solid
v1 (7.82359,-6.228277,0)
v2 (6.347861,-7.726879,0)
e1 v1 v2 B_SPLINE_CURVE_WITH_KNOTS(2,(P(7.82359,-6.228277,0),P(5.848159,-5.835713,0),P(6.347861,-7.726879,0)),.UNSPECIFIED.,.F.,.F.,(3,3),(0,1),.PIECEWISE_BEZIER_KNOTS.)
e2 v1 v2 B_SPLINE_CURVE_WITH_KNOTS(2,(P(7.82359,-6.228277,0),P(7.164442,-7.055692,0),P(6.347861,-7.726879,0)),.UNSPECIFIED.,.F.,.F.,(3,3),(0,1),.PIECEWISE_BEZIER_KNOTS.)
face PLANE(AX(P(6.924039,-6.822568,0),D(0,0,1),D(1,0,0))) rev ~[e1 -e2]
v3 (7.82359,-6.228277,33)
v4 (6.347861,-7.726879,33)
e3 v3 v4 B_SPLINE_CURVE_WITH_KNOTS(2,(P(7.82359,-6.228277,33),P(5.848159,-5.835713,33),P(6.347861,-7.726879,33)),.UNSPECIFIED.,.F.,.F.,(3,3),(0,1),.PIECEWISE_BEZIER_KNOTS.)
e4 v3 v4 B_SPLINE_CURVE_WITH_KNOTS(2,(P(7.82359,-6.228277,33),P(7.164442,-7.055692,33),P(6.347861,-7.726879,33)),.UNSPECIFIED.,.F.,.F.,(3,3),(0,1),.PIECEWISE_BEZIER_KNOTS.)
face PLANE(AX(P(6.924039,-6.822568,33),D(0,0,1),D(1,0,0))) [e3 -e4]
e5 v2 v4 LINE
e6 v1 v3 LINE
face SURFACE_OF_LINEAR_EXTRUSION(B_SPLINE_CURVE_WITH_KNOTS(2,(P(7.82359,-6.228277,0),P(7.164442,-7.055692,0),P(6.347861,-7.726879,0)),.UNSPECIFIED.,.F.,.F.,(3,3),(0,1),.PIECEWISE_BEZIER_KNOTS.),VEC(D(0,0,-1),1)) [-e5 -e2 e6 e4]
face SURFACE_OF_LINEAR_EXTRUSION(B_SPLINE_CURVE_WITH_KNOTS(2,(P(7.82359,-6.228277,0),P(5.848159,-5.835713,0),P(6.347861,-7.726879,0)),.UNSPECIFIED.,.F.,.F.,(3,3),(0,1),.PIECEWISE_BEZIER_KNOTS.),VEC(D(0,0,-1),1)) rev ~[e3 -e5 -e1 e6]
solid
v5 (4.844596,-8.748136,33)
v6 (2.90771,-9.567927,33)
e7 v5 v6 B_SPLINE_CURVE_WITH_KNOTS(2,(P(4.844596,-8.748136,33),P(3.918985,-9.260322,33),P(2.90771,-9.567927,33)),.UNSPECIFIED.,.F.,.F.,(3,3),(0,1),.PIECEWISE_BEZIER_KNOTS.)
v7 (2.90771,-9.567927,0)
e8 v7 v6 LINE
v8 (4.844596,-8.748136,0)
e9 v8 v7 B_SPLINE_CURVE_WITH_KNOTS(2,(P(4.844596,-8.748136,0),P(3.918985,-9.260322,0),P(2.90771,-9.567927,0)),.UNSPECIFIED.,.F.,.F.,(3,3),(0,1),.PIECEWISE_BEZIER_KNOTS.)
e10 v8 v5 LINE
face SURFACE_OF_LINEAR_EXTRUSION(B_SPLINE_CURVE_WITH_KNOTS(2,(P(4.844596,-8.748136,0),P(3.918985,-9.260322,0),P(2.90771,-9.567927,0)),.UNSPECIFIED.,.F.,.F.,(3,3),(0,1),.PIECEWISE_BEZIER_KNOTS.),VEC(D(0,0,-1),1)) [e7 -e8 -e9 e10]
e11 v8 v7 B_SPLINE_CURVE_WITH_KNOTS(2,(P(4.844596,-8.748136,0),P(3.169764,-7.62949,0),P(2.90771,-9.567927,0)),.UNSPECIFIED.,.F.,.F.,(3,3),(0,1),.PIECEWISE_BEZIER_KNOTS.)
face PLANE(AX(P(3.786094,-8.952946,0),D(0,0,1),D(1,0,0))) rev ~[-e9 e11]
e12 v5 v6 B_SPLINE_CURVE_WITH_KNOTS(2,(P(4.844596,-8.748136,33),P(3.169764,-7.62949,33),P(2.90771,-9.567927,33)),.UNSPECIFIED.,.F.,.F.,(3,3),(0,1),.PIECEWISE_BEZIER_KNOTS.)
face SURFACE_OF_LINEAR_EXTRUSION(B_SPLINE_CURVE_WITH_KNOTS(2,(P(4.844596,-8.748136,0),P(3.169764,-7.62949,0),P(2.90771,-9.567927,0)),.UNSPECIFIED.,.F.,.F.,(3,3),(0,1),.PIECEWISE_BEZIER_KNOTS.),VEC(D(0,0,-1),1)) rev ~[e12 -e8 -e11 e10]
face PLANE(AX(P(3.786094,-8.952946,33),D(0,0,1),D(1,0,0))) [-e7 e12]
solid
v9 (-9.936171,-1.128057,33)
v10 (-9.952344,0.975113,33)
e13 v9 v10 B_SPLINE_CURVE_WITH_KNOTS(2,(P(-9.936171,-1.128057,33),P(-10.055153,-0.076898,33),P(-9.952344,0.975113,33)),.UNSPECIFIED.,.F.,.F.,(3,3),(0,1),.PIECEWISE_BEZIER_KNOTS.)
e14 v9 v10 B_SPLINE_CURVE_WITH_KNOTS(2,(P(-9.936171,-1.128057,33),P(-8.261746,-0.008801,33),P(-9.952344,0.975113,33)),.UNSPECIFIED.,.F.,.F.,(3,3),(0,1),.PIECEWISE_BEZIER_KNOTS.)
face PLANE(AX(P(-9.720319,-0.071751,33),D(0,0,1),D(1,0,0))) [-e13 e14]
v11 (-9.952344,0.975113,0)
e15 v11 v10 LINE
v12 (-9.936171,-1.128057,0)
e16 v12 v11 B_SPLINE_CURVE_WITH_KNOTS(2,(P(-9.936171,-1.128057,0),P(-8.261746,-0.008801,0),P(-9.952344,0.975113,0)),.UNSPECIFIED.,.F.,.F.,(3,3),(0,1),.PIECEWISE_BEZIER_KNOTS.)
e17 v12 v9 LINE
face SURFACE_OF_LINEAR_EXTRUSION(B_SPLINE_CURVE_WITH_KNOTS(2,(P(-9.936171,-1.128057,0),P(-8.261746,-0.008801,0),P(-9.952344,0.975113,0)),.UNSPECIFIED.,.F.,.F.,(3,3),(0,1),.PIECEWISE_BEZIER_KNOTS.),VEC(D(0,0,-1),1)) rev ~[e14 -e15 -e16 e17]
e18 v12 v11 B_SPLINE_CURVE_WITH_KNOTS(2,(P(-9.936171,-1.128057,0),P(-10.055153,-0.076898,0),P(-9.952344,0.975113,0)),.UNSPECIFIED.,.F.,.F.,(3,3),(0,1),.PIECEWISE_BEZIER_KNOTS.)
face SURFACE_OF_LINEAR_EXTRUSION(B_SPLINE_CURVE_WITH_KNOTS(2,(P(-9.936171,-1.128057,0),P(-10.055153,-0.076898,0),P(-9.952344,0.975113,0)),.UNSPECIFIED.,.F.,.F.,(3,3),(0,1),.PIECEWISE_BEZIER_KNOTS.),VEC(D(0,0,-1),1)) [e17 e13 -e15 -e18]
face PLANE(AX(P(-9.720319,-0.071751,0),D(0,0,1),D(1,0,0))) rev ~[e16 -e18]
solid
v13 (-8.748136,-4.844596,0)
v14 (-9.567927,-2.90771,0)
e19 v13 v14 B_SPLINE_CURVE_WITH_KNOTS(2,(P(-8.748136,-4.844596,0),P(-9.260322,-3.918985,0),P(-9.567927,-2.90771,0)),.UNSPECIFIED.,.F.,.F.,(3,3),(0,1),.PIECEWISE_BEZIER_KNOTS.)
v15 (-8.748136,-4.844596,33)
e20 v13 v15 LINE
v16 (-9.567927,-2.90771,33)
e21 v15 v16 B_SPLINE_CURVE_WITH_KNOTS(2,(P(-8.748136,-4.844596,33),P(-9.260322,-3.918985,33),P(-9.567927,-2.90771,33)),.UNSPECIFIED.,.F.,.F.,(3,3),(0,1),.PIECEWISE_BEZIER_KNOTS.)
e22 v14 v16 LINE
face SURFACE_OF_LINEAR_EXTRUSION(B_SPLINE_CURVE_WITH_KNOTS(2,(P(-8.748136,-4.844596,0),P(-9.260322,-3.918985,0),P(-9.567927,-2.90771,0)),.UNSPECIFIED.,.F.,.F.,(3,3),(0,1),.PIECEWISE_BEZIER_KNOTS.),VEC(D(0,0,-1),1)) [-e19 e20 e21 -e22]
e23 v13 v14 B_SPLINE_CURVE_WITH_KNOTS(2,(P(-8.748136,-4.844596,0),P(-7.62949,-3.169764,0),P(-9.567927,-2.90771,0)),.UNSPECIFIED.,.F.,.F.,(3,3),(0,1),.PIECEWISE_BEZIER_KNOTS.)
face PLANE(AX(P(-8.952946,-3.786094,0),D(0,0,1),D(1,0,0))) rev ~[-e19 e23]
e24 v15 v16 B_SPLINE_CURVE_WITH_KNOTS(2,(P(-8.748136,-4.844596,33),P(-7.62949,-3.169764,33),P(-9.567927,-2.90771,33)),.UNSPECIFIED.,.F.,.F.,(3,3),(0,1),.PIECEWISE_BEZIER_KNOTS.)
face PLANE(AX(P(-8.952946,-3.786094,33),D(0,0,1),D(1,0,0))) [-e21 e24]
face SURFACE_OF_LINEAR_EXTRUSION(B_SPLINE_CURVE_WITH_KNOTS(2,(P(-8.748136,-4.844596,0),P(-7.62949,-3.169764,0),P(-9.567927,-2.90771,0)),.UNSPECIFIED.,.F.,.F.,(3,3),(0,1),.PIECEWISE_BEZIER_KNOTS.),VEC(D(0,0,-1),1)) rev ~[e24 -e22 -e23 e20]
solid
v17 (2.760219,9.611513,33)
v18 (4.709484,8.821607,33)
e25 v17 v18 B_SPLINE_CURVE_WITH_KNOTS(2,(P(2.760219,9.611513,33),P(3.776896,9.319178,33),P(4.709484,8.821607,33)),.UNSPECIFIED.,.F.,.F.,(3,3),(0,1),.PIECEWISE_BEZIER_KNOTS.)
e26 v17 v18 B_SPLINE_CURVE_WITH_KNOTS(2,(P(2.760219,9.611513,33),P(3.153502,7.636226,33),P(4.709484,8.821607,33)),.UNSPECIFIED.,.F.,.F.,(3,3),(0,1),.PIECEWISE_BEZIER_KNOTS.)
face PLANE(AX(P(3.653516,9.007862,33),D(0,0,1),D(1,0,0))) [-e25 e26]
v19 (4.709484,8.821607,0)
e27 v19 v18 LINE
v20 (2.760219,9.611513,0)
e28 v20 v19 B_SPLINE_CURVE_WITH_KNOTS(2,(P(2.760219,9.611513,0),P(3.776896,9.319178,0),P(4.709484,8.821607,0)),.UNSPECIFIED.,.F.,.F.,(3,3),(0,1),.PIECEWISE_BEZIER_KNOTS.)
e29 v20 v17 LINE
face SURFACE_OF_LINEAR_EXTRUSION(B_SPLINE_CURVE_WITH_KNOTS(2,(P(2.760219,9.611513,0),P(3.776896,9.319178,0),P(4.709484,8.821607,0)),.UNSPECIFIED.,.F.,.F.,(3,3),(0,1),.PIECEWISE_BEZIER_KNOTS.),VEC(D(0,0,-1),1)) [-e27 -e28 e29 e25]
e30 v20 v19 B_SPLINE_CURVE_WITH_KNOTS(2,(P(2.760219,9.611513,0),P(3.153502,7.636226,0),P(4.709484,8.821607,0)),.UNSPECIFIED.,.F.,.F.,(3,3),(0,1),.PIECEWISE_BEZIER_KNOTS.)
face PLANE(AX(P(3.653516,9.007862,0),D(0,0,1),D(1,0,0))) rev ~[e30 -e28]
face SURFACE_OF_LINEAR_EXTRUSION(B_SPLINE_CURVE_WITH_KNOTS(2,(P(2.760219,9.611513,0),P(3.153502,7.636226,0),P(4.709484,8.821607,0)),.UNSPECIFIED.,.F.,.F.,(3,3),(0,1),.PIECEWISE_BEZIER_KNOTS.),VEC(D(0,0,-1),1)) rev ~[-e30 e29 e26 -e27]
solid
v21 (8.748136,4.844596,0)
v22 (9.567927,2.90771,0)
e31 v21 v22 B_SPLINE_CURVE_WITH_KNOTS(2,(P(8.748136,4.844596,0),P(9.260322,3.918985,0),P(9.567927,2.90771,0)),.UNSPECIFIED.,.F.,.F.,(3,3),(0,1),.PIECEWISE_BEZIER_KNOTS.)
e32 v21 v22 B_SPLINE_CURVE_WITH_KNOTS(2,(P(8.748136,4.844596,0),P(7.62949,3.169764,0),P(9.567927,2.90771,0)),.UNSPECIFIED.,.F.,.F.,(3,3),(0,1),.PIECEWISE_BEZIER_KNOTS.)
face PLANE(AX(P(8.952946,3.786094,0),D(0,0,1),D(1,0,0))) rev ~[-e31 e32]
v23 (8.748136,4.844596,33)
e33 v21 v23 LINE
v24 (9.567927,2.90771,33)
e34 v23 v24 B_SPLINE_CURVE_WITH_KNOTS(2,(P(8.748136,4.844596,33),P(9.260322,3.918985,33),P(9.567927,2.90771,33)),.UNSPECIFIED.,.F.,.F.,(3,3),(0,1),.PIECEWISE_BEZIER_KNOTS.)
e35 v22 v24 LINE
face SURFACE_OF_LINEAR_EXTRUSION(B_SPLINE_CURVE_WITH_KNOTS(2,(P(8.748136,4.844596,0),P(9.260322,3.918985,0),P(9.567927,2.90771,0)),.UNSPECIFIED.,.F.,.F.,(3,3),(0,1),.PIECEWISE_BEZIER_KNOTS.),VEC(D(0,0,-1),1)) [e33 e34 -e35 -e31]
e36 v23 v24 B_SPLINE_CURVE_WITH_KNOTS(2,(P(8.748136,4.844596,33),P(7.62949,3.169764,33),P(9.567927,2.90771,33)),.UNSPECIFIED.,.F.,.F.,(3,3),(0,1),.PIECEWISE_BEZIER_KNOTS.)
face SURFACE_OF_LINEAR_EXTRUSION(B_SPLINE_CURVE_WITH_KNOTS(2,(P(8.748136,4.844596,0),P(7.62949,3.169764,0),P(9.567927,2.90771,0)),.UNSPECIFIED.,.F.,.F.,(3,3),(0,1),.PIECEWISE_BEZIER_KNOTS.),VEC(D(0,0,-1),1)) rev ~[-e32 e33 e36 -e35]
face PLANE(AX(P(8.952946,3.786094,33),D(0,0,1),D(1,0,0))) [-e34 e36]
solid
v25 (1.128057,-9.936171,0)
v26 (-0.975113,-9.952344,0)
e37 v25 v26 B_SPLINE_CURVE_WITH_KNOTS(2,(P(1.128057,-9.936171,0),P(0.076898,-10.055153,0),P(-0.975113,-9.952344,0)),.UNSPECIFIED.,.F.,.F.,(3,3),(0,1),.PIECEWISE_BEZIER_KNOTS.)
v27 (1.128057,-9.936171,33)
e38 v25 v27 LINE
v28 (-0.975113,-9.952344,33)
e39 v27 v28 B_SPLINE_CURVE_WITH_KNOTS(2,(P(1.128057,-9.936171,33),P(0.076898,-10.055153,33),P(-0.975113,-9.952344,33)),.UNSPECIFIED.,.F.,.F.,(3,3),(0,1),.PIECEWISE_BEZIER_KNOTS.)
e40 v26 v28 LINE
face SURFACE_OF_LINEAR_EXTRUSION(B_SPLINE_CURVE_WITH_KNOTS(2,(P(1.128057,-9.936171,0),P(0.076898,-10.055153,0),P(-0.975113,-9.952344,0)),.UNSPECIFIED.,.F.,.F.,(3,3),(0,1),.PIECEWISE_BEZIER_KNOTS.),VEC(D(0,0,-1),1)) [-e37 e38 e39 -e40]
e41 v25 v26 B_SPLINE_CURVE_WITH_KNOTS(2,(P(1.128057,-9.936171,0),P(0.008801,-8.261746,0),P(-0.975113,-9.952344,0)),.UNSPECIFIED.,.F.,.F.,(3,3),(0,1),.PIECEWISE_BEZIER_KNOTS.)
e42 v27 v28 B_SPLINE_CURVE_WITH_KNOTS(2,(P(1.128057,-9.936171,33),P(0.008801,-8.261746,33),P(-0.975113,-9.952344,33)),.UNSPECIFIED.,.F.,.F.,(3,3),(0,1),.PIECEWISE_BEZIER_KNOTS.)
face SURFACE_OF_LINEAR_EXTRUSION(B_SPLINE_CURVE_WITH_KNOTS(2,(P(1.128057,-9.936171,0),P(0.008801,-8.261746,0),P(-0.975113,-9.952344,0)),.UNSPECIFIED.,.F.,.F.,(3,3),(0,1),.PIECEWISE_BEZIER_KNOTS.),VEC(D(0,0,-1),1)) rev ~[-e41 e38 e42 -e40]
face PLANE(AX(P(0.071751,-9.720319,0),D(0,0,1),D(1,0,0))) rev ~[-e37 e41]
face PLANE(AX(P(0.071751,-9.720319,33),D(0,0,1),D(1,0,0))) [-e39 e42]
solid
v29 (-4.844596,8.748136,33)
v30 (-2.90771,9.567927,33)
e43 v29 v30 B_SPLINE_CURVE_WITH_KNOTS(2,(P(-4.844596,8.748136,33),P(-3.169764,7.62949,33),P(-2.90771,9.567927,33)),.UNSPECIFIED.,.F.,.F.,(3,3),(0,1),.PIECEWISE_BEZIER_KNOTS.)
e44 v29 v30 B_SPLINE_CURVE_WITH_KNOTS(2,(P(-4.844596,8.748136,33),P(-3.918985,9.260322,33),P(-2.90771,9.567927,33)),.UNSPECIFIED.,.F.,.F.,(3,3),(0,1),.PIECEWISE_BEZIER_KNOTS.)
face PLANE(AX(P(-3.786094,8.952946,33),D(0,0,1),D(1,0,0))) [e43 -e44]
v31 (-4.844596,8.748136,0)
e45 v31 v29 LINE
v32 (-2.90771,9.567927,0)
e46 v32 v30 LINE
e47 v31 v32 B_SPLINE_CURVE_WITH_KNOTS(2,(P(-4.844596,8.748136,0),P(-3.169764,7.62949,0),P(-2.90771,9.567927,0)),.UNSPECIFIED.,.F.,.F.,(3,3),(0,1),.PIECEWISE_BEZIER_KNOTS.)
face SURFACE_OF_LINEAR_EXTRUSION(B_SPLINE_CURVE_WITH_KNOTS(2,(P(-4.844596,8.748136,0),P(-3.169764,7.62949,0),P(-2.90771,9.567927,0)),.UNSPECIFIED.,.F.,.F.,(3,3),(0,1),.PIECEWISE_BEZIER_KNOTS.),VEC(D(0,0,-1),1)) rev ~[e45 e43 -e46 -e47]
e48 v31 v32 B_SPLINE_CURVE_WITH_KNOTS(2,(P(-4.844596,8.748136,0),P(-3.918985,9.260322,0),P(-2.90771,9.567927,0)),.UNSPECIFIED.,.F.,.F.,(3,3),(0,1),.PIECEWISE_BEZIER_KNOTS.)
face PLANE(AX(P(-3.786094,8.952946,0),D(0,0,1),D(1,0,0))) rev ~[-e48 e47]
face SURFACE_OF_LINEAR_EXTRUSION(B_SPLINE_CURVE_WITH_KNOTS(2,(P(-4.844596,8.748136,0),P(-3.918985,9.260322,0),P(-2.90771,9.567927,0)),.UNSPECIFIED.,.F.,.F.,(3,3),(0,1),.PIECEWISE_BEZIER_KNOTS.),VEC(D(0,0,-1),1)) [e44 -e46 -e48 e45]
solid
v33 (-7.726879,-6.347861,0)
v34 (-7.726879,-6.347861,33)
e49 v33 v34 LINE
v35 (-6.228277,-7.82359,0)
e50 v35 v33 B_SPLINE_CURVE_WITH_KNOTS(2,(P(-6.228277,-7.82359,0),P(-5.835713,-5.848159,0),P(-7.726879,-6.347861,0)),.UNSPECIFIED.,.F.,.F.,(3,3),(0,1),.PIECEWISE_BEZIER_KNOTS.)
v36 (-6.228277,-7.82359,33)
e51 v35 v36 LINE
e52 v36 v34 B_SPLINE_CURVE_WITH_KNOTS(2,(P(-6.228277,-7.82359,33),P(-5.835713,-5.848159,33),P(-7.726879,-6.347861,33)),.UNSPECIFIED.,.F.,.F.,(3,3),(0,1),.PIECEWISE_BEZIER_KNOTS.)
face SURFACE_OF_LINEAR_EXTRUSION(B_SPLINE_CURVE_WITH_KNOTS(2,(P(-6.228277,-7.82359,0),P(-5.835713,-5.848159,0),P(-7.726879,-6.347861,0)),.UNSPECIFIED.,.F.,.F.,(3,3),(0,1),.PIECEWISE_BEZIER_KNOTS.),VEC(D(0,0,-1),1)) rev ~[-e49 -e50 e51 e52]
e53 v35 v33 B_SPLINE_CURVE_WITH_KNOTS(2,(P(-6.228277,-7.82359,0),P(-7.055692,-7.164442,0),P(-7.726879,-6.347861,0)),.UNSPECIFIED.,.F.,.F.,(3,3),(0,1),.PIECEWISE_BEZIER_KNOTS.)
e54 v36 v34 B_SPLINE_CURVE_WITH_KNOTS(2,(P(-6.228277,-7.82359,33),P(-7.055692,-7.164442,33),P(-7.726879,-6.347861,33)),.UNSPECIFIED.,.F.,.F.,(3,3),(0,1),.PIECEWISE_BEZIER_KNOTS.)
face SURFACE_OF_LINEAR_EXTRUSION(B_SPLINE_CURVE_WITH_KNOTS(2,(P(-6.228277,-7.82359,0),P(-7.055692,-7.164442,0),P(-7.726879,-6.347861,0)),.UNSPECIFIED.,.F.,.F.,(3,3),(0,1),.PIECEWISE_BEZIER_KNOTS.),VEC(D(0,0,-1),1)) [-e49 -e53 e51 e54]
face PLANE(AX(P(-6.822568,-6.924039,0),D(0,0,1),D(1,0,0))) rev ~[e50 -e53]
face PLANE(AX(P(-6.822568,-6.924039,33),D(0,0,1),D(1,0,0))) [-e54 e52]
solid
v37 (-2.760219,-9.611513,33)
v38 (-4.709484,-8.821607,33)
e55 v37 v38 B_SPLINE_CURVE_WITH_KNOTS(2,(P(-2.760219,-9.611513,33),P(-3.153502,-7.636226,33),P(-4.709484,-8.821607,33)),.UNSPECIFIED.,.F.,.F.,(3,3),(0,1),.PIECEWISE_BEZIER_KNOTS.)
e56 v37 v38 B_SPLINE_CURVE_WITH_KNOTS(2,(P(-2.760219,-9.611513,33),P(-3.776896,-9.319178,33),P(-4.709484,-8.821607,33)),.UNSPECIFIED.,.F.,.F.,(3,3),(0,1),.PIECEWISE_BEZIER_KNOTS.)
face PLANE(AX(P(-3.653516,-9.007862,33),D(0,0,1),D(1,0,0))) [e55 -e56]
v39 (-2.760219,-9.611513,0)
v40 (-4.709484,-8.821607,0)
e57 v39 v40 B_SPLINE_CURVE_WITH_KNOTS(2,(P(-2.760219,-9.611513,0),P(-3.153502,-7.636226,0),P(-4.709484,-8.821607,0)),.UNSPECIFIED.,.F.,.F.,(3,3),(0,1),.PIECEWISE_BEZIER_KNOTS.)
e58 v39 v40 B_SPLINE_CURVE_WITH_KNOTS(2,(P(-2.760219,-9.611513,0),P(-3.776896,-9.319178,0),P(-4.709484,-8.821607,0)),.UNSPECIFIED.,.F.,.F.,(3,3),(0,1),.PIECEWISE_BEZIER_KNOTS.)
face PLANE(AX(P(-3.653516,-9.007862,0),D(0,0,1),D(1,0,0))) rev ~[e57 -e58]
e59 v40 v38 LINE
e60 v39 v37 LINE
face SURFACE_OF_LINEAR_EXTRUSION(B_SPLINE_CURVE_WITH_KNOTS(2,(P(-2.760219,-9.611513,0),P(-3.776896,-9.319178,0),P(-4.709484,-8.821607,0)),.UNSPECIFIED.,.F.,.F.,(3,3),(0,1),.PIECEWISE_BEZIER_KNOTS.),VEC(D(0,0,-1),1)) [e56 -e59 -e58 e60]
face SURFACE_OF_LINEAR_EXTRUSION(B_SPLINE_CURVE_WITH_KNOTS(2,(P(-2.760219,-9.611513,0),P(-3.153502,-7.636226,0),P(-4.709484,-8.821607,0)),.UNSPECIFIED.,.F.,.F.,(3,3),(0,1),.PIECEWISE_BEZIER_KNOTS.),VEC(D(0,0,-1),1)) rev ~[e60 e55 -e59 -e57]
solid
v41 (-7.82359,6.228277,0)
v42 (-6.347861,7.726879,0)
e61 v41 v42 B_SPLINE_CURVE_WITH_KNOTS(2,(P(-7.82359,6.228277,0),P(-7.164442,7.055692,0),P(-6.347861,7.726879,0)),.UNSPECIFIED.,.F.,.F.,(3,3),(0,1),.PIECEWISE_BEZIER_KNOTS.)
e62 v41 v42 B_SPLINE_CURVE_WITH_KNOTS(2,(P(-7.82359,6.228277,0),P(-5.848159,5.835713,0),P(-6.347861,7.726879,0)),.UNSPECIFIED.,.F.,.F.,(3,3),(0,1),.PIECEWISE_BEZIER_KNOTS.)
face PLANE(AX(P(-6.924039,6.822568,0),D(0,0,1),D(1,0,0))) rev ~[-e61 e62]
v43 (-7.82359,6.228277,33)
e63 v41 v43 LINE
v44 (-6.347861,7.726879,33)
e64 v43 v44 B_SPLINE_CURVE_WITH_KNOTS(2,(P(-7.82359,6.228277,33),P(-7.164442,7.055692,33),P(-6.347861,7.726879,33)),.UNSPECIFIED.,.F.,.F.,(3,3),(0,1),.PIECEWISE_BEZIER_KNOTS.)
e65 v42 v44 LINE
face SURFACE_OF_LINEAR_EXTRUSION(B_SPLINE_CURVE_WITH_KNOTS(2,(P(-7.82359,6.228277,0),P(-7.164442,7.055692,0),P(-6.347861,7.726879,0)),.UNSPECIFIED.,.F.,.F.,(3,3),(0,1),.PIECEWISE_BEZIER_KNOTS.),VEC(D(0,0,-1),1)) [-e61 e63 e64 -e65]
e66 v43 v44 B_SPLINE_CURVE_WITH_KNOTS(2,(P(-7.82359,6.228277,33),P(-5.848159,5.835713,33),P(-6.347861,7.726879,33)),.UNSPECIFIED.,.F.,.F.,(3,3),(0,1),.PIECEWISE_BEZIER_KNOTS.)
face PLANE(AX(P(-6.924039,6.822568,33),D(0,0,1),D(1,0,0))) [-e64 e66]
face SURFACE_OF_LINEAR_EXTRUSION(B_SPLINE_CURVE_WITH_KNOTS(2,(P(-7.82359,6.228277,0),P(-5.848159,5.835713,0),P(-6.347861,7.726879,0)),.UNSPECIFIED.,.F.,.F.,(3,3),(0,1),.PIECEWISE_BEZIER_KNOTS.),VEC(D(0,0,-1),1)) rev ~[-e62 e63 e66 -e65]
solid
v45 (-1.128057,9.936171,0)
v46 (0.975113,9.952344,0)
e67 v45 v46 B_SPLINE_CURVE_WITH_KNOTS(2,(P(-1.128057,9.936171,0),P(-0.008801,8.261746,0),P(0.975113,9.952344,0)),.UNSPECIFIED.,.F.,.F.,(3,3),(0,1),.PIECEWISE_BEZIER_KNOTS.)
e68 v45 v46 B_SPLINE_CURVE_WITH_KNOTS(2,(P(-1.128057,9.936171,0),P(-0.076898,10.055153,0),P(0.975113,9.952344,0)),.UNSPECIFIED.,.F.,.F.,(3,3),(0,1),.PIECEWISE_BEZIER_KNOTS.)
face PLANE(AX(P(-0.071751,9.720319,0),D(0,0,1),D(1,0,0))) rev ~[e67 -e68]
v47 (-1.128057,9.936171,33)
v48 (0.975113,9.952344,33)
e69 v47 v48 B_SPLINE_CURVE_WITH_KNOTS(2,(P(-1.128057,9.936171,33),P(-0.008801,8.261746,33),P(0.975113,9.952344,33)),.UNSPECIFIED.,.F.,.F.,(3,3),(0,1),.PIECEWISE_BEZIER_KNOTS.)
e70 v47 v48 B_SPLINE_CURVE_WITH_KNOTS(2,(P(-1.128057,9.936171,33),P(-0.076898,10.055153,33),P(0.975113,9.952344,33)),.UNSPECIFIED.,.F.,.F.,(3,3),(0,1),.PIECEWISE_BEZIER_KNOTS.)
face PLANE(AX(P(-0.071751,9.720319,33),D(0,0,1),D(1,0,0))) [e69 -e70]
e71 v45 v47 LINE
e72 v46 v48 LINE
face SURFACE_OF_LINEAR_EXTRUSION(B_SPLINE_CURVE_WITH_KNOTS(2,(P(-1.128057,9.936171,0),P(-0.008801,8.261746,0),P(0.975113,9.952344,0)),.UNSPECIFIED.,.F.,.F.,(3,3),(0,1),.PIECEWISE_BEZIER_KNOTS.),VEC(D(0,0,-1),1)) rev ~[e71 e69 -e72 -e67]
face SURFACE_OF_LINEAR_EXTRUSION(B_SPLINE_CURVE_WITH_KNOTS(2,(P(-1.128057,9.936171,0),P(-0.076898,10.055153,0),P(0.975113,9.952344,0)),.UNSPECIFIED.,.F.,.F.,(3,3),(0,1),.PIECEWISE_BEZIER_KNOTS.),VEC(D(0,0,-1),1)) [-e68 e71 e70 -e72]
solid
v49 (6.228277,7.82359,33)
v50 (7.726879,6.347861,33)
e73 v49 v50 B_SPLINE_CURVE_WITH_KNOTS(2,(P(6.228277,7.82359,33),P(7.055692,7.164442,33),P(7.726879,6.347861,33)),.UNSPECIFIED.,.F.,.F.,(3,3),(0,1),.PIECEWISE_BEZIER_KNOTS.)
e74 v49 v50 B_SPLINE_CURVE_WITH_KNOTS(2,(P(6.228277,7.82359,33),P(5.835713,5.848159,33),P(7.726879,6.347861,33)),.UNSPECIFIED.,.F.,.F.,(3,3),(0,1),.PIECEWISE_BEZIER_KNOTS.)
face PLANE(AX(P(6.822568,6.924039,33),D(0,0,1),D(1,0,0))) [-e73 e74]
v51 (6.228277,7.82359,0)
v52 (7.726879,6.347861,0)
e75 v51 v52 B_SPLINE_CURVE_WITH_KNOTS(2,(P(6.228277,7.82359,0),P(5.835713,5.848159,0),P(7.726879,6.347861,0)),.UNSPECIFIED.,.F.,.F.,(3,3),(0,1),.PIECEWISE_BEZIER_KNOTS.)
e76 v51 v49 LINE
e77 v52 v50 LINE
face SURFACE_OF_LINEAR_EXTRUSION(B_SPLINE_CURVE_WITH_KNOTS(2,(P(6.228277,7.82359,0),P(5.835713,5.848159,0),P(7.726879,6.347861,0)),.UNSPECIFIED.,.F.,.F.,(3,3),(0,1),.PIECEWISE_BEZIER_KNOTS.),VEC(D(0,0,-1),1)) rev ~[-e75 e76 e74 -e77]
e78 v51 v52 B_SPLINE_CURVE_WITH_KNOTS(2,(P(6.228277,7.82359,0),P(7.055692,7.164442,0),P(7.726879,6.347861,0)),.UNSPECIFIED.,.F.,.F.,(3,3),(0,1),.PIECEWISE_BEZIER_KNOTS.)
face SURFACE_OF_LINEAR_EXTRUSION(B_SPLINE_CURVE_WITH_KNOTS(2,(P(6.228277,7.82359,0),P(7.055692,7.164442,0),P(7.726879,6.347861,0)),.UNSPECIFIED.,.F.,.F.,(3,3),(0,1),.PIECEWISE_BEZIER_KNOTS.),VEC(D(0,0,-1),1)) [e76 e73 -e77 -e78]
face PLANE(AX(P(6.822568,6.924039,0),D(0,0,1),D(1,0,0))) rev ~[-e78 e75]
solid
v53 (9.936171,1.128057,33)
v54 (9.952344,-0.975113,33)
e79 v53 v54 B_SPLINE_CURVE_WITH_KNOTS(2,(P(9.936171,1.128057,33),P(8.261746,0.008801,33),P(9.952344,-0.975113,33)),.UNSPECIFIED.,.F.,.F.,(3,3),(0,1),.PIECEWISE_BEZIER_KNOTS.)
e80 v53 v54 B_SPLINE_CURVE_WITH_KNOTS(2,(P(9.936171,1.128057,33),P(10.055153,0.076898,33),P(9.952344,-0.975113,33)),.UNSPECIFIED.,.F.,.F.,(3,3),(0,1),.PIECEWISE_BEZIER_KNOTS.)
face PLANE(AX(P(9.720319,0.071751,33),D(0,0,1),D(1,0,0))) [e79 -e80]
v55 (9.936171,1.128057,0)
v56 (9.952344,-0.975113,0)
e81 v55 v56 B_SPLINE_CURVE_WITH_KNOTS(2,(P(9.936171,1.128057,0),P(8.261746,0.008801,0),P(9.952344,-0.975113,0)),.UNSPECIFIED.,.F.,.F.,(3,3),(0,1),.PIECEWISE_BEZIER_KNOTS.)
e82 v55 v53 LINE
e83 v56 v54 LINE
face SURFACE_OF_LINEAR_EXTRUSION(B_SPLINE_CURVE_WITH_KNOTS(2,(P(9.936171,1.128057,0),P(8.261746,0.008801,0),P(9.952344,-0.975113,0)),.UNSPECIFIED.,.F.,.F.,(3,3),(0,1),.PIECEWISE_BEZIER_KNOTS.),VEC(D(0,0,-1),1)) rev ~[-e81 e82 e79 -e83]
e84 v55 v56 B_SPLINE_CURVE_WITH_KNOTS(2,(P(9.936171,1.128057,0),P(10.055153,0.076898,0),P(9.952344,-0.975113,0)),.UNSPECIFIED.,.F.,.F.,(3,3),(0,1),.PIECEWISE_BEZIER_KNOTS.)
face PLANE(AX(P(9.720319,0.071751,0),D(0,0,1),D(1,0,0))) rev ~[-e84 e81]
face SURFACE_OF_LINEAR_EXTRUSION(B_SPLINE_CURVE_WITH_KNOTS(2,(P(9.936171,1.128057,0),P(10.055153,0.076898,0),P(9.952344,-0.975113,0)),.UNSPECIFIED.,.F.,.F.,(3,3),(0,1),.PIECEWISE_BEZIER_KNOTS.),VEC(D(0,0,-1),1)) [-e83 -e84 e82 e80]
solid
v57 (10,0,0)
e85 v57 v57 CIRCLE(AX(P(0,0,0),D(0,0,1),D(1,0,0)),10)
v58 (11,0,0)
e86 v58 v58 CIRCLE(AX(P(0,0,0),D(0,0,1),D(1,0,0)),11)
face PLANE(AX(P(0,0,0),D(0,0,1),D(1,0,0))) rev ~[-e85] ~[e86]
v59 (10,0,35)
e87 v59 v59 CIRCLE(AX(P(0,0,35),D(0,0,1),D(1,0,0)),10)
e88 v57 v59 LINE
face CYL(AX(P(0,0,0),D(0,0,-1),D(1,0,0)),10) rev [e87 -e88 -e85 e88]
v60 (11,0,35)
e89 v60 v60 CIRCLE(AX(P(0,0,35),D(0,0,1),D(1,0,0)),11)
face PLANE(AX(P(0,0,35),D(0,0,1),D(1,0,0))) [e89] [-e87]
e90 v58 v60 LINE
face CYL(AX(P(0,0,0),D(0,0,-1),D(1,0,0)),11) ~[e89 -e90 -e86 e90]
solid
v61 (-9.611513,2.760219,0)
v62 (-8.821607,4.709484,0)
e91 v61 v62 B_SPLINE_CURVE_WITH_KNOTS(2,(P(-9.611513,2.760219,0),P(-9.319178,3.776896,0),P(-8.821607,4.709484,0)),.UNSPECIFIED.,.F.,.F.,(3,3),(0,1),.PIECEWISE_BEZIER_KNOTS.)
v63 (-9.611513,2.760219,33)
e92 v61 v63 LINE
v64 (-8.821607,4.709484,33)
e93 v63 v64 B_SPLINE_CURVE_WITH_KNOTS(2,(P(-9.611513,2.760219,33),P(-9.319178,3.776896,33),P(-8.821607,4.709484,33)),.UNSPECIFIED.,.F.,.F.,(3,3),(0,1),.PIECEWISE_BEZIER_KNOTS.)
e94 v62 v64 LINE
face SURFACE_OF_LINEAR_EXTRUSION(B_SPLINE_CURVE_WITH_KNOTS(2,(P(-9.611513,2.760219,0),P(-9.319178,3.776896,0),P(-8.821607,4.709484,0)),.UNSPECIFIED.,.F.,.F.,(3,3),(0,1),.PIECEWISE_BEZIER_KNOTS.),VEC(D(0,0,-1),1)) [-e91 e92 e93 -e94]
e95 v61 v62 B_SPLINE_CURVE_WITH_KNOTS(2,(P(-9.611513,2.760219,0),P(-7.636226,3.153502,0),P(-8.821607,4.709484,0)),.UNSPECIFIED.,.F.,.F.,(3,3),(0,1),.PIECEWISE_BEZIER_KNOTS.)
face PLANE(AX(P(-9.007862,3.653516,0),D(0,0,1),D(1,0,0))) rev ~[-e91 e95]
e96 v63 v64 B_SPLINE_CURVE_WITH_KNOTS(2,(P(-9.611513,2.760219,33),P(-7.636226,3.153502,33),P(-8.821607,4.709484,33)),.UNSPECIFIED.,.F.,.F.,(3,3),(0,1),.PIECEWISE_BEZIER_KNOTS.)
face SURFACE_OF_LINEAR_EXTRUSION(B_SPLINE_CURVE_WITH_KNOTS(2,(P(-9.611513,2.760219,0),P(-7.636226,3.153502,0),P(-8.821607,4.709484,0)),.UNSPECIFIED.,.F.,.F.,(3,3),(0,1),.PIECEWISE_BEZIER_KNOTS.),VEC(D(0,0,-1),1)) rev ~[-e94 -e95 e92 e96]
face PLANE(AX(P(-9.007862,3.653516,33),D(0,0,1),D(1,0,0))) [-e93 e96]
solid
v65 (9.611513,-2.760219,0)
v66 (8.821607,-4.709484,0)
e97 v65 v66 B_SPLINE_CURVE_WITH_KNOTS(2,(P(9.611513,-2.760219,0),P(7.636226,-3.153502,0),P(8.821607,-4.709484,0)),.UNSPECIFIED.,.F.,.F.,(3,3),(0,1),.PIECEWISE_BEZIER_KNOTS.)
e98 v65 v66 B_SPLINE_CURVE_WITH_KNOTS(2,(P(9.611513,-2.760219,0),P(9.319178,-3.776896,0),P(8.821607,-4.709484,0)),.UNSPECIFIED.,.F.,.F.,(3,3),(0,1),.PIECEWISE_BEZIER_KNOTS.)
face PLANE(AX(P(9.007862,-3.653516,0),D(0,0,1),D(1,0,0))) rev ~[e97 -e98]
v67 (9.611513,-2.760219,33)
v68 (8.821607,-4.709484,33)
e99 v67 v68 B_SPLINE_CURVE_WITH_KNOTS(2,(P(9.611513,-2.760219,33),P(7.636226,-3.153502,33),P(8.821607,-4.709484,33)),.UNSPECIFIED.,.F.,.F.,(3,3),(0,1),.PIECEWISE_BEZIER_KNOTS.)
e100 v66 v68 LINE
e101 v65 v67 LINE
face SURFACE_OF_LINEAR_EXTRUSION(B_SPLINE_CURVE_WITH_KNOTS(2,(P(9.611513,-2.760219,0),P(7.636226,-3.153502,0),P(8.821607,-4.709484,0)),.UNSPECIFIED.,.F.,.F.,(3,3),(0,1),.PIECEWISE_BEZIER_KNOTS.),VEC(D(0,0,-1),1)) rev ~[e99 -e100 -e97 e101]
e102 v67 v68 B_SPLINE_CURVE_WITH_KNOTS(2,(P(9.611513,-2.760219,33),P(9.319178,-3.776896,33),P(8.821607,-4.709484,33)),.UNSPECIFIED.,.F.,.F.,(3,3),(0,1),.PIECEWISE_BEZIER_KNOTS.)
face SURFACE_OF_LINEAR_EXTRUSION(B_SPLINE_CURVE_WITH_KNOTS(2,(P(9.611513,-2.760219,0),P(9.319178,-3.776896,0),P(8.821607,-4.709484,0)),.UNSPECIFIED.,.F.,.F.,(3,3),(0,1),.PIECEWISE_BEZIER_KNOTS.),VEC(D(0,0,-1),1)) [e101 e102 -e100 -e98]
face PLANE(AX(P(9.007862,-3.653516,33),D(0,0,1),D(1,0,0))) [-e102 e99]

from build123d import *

# Parameters (mm, degrees)
SKETCH1_R              = 11
SKETCH1_R_2            = 10
BOSS_EXTRUDE1_DEPTH    = 35
BOSS_EXTRUDE2_DEPTH    = 33
BOSS_EXTRUDE2_2_DEPTH  = 33
BOSS_EXTRUDE2_3_DEPTH  = 33
BOSS_EXTRUDE2_4_DEPTH  = 33
BOSS_EXTRUDE2_5_DEPTH  = 33
BOSS_EXTRUDE2_6_DEPTH  = 33
BOSS_EXTRUDE2_7_DEPTH  = 33
BOSS_EXTRUDE2_8_DEPTH  = 33
BOSS_EXTRUDE2_9_DEPTH  = 33
BOSS_EXTRUDE2_10_DEPTH = 33
BOSS_EXTRUDE2_11_DEPTH = 33
BOSS_EXTRUDE2_12_DEPTH = 33
BOSS_EXTRUDE2_13_DEPTH = 33
BOSS_EXTRUDE2_14_DEPTH = 33
BOSS_EXTRUDE2_15_DEPTH = 33
BOSS_EXTRUDE2_16_DEPTH = 33


with BuildPart() as part:
    # Sketch1 → Boss-Extrude1 (new body)
    with BuildSketch(Plane.XY):
        Circle(SKETCH1_R)
        Circle(SKETCH1_R_2, mode=Mode.SUBTRACT)
    extrude(amount=BOSS_EXTRUDE1_DEPTH)


with BuildPart() as body_2:
    # Sketch2 → Boss-Extrude2 (new body)
    with BuildSketch(Plane(origin=(0, 0, 0), x_dir=(-1, 0, 0), z_dir=(0, 0, -1))):
        with BuildLine():
            add(Edge.make_bspline(
                [(-1.128056704, -9.936170695), (-0.00880064, -8.26174576), (0.975113037, -9.952344174)],
                knots=[0, 0, 0, 1, 1, 1], degree=2))
            add(Edge.make_bspline(
                [(-1.128056704, -9.936170695), (-0.076898223, -10.055152863), (0.975113037, -9.952344174)],
                knots=[0, 0, 0, 1, 1, 1], degree=2))
        make_face()
    extrude(amount=-BOSS_EXTRUDE2_DEPTH)


with BuildPart() as body_3:
    # Sketch2 → Boss-Extrude2 2 (new body)
    with BuildSketch(Plane(origin=(0, 0, 0), x_dir=(-1, 0, 0), z_dir=(0, 0, -1))):
        with BuildLine():
            add(Edge.make_bspline(
                [(-4.844596406, -8.748136125), (-3.169763956, -7.629489952), (-2.907710252, -9.567926687)],
                knots=[0, 0, 0, 1, 1, 1], degree=2))
            add(Edge.make_bspline(
                [(-4.844596406, -8.748136125), (-3.918985104, -9.26032225), (-2.907710252, -9.567926687)],
                knots=[0, 0, 0, 1, 1, 1], degree=2))
        make_face()
    extrude(amount=-BOSS_EXTRUDE2_2_DEPTH)


with BuildPart() as body_4:
    # Sketch2 → Boss-Extrude2 3 (new body)
    with BuildSketch(Plane(origin=(0, 0, 0), x_dir=(-1, 0, 0), z_dir=(0, 0, -1))):
        with BuildLine():
            add(Edge.make_bspline(
                [(-7.823590222, -6.228277132), (-5.848159444, -5.835713459), (-6.347861013, -7.726879095)],
                knots=[0, 0, 0, 1, 1, 1], degree=2))
            add(Edge.make_bspline(
                [(-7.823590222, -6.228277132), (-7.16444203, -7.05569152), (-6.347861013, -7.726879095)],
                knots=[0, 0, 0, 1, 1, 1], degree=2))
        make_face()
    extrude(amount=-BOSS_EXTRUDE2_3_DEPTH)


with BuildPart() as body_5:
    # Sketch2 → Boss-Extrude2 4 (new body)
    with BuildSketch(Plane(origin=(0, 0, 0), x_dir=(-1, 0, 0), z_dir=(0, 0, -1))):
        with BuildLine():
            add(Edge.make_bspline(
                [(-9.611513348, -2.760219406), (-7.63622567, -3.153502494), (-8.821607479, -4.709484206)],
                knots=[0, 0, 0, 1, 1, 1], degree=2))
            add(Edge.make_bspline(
                [(-9.611513348, -2.760219406), (-9.319177602, -3.776895716), (-8.821607479, -4.709484206)],
                knots=[0, 0, 0, 1, 1, 1], degree=2))
        make_face()
    extrude(amount=-BOSS_EXTRUDE2_4_DEPTH)


with BuildPart() as body_6:
    # Sketch2 → Boss-Extrude2 5 (new body)
    with BuildSketch(Plane(origin=(0, 0, 0), x_dir=(-1, 0, 0), z_dir=(0, 0, -1))):
        with BuildLine():
            add(Edge.make_bspline(
                [(-9.936170695, 1.128056704), (-8.26174576, 0.00880064), (-9.952344174, -0.975113037)],
                knots=[0, 0, 0, 1, 1, 1], degree=2))
            add(Edge.make_bspline(
                [(-9.936170695, 1.128056704), (-10.055152863, 0.076898223), (-9.952344174, -0.975113037)],
                knots=[0, 0, 0, 1, 1, 1], degree=2))
        make_face()
    extrude(amount=-BOSS_EXTRUDE2_5_DEPTH)


with BuildPart() as body_7:
    # Sketch2 → Boss-Extrude2 6 (new body)
    with BuildSketch(Plane(origin=(0, 0, 0), x_dir=(-1, 0, 0), z_dir=(0, 0, -1))):
        with BuildLine():
            add(Edge.make_bspline(
                [(-8.748136125, 4.844596406), (-7.629489952, 3.169763956), (-9.567926687, 2.907710252)],
                knots=[0, 0, 0, 1, 1, 1], degree=2))
            add(Edge.make_bspline(
                [(-8.748136125, 4.844596406), (-9.26032225, 3.918985104), (-9.567926687, 2.907710252)],
                knots=[0, 0, 0, 1, 1, 1], degree=2))
        make_face()
    extrude(amount=-BOSS_EXTRUDE2_6_DEPTH)


with BuildPart() as body_8:
    # Sketch2 → Boss-Extrude2 7 (new body)
    with BuildSketch(Plane(origin=(0, 0, 0), x_dir=(-1, 0, 0), z_dir=(0, 0, -1))):
        with BuildLine():
            add(Edge.make_bspline(
                [(-6.228277132, 7.823590222), (-5.835713459, 5.848159444), (-7.726879095, 6.347861013)],
                knots=[0, 0, 0, 1, 1, 1], degree=2))
            add(Edge.make_bspline(
                [(-6.228277132, 7.823590222), (-7.05569152, 7.16444203), (-7.726879095, 6.347861013)],
                knots=[0, 0, 0, 1, 1, 1], degree=2))
        make_face()
    extrude(amount=-BOSS_EXTRUDE2_7_DEPTH)


with BuildPart() as body_9:
    # Sketch2 → Boss-Extrude2 8 (new body)
    with BuildSketch(Plane(origin=(0, 0, 0), x_dir=(-1, 0, 0), z_dir=(0, 0, -1))):
        with BuildLine():
            add(Edge.make_bspline(
                [(-2.760219406, 9.611513348), (-3.153502494, 7.63622567), (-4.709484206, 8.821607479)],
                knots=[0, 0, 0, 1, 1, 1], degree=2))
            add(Edge.make_bspline(
                [(-2.760219406, 9.611513348), (-3.776895716, 9.319177602), (-4.709484206, 8.821607479)],
                knots=[0, 0, 0, 1, 1, 1], degree=2))
        make_face()
    extrude(amount=-BOSS_EXTRUDE2_8_DEPTH)


with BuildPart() as body_10:
    # Sketch2 → Boss-Extrude2 9 (new body)
    with BuildSketch(Plane(origin=(0, 0, 0), x_dir=(-1, 0, 0), z_dir=(0, 0, -1))):
        with BuildLine():
            add(Edge.make_bspline(
                [(1.128056704, 9.936170695), (0.00880064, 8.26174576), (-0.975113037, 9.952344174)],
                knots=[0, 0, 0, 1, 1, 1], degree=2))
            add(Edge.make_bspline(
                [(1.128056704, 9.936170695), (0.076898223, 10.055152863), (-0.975113037, 9.952344174)],
                knots=[0, 0, 0, 1, 1, 1], degree=2))
        make_face()
    extrude(amount=-BOSS_EXTRUDE2_9_DEPTH)


with BuildPart() as body_11:
    # Sketch2 → Boss-Extrude2 10 (new body)
    with BuildSketch(Plane(origin=(0, 0, 0), x_dir=(-1, 0, 0), z_dir=(0, 0, -1))):
        with BuildLine():
            add(Edge.make_bspline(
                [(4.844596406, 8.748136125), (3.169763956, 7.629489952), (2.907710252, 9.567926687)],
                knots=[0, 0, 0, 1, 1, 1], degree=2))
            add(Edge.make_bspline(
                [(4.844596406, 8.748136125), (3.918985104, 9.26032225), (2.907710252, 9.567926687)],
                knots=[0, 0, 0, 1, 1, 1], degree=2))
        make_face()
    extrude(amount=-BOSS_EXTRUDE2_10_DEPTH)


with BuildPart() as body_12:
    # Sketch2 → Boss-Extrude2 11 (new body)
    with BuildSketch(Plane(origin=(0, 0, 0), x_dir=(-1, 0, 0), z_dir=(0, 0, -1))):
        with BuildLine():
            add(Edge.make_bspline(
                [(7.823590222, 6.228277132), (5.848159444, 5.835713459), (6.347861013, 7.726879095)],
                knots=[0, 0, 0, 1, 1, 1], degree=2))
            add(Edge.make_bspline(
                [(7.823590222, 6.228277132), (7.16444203, 7.05569152), (6.347861013, 7.726879095)],
                knots=[0, 0, 0, 1, 1, 1], degree=2))
        make_face()
    extrude(amount=-BOSS_EXTRUDE2_11_DEPTH)


with BuildPart() as body_13:
    # Sketch2 → Boss-Extrude2 12 (new body)
    with BuildSketch(Plane(origin=(0, 0, 0), x_dir=(-1, 0, 0), z_dir=(0, 0, -1))):
        with BuildLine():
            add(Edge.make_bspline(
                [(9.611513348, 2.760219406), (7.63622567, 3.153502494), (8.821607479, 4.709484206)],
                knots=[0, 0, 0, 1, 1, 1], degree=2))
            add(Edge.make_bspline(
                [(9.611513348, 2.760219406), (9.319177602, 3.776895716), (8.821607479, 4.709484206)],
                knots=[0, 0, 0, 1, 1, 1], degree=2))
        make_face()
    extrude(amount=-BOSS_EXTRUDE2_12_DEPTH)


with BuildPart() as body_14:
    # Sketch2 → Boss-Extrude2 13 (new body)
    with BuildSketch(Plane(origin=(0, 0, 0), x_dir=(-1, 0, 0), z_dir=(0, 0, -1))):
        with BuildLine():
            add(Edge.make_bspline(
                [(9.936170695, -1.128056704), (8.26174576, -0.00880064), (9.952344174, 0.975113037)],
                knots=[0, 0, 0, 1, 1, 1], degree=2))
            add(Edge.make_bspline(
                [(9.936170695, -1.128056704), (10.055152863, -0.076898223), (9.952344174, 0.975113037)],
                knots=[0, 0, 0, 1, 1, 1], degree=2))
        make_face()
    extrude(amount=-BOSS_EXTRUDE2_13_DEPTH)


with BuildPart() as body_15:
    # Sketch2 → Boss-Extrude2 14 (new body)
    with BuildSketch(Plane(origin=(0, 0, 0), x_dir=(-1, 0, 0), z_dir=(0, 0, -1))):
        with BuildLine():
            add(Edge.make_bspline(
                [(8.748136125, -4.844596406), (7.629489952, -3.169763956), (9.567926687, -2.907710252)],
                knots=[0, 0, 0, 1, 1, 1], degree=2))
            add(Edge.make_bspline(
                [(8.748136125, -4.844596406), (9.26032225, -3.918985104), (9.567926687, -2.907710252)],
                knots=[0, 0, 0, 1, 1, 1], degree=2))
        make_face()
    extrude(amount=-BOSS_EXTRUDE2_14_DEPTH)


with BuildPart() as body_16:
    # Sketch2 → Boss-Extrude2 15 (new body)
    with BuildSketch(Plane(origin=(0, 0, 0), x_dir=(-1, 0, 0), z_dir=(0, 0, -1))):
        with BuildLine():
            add(Edge.make_bspline(
                [(6.228277132, -7.823590222), (5.835713459, -5.848159444), (7.726879095, -6.347861013)],
                knots=[0, 0, 0, 1, 1, 1], degree=2))
            add(Edge.make_bspline(
                [(6.228277132, -7.823590222), (7.05569152, -7.16444203), (7.726879095, -6.347861013)],
                knots=[0, 0, 0, 1, 1, 1], degree=2))
        make_face()
    extrude(amount=-BOSS_EXTRUDE2_15_DEPTH)


with BuildPart() as body_17:
    # Sketch2 → Boss-Extrude2 16 (new body)
    with BuildSketch(Plane(origin=(0, 0, 0), x_dir=(-1, 0, 0), z_dir=(0, 0, -1))):
        with BuildLine():
            add(Edge.make_bspline(
                [(2.760219406, -9.611513348), (3.153502494, -7.63622567), (4.709484206, -8.821607479)],
                knots=[0, 0, 0, 1, 1, 1], degree=2))
            add(Edge.make_bspline(
                [(2.760219406, -9.611513348), (3.776895716, -9.319177602), (4.709484206, -8.821607479)],
                knots=[0, 0, 0, 1, 1, 1], degree=2))
        make_face()
    extrude(amount=-BOSS_EXTRUDE2_16_DEPTH)


solid = Compound([part.part, body_2.part, body_3.part, body_4.part, body_5.part, body_6.part, body_7.part, body_8.part, body_9.part, body_10.part, body_11.part, body_12.part, body_13.part, body_14.part, body_15.part, body_16.part, body_17.part])
